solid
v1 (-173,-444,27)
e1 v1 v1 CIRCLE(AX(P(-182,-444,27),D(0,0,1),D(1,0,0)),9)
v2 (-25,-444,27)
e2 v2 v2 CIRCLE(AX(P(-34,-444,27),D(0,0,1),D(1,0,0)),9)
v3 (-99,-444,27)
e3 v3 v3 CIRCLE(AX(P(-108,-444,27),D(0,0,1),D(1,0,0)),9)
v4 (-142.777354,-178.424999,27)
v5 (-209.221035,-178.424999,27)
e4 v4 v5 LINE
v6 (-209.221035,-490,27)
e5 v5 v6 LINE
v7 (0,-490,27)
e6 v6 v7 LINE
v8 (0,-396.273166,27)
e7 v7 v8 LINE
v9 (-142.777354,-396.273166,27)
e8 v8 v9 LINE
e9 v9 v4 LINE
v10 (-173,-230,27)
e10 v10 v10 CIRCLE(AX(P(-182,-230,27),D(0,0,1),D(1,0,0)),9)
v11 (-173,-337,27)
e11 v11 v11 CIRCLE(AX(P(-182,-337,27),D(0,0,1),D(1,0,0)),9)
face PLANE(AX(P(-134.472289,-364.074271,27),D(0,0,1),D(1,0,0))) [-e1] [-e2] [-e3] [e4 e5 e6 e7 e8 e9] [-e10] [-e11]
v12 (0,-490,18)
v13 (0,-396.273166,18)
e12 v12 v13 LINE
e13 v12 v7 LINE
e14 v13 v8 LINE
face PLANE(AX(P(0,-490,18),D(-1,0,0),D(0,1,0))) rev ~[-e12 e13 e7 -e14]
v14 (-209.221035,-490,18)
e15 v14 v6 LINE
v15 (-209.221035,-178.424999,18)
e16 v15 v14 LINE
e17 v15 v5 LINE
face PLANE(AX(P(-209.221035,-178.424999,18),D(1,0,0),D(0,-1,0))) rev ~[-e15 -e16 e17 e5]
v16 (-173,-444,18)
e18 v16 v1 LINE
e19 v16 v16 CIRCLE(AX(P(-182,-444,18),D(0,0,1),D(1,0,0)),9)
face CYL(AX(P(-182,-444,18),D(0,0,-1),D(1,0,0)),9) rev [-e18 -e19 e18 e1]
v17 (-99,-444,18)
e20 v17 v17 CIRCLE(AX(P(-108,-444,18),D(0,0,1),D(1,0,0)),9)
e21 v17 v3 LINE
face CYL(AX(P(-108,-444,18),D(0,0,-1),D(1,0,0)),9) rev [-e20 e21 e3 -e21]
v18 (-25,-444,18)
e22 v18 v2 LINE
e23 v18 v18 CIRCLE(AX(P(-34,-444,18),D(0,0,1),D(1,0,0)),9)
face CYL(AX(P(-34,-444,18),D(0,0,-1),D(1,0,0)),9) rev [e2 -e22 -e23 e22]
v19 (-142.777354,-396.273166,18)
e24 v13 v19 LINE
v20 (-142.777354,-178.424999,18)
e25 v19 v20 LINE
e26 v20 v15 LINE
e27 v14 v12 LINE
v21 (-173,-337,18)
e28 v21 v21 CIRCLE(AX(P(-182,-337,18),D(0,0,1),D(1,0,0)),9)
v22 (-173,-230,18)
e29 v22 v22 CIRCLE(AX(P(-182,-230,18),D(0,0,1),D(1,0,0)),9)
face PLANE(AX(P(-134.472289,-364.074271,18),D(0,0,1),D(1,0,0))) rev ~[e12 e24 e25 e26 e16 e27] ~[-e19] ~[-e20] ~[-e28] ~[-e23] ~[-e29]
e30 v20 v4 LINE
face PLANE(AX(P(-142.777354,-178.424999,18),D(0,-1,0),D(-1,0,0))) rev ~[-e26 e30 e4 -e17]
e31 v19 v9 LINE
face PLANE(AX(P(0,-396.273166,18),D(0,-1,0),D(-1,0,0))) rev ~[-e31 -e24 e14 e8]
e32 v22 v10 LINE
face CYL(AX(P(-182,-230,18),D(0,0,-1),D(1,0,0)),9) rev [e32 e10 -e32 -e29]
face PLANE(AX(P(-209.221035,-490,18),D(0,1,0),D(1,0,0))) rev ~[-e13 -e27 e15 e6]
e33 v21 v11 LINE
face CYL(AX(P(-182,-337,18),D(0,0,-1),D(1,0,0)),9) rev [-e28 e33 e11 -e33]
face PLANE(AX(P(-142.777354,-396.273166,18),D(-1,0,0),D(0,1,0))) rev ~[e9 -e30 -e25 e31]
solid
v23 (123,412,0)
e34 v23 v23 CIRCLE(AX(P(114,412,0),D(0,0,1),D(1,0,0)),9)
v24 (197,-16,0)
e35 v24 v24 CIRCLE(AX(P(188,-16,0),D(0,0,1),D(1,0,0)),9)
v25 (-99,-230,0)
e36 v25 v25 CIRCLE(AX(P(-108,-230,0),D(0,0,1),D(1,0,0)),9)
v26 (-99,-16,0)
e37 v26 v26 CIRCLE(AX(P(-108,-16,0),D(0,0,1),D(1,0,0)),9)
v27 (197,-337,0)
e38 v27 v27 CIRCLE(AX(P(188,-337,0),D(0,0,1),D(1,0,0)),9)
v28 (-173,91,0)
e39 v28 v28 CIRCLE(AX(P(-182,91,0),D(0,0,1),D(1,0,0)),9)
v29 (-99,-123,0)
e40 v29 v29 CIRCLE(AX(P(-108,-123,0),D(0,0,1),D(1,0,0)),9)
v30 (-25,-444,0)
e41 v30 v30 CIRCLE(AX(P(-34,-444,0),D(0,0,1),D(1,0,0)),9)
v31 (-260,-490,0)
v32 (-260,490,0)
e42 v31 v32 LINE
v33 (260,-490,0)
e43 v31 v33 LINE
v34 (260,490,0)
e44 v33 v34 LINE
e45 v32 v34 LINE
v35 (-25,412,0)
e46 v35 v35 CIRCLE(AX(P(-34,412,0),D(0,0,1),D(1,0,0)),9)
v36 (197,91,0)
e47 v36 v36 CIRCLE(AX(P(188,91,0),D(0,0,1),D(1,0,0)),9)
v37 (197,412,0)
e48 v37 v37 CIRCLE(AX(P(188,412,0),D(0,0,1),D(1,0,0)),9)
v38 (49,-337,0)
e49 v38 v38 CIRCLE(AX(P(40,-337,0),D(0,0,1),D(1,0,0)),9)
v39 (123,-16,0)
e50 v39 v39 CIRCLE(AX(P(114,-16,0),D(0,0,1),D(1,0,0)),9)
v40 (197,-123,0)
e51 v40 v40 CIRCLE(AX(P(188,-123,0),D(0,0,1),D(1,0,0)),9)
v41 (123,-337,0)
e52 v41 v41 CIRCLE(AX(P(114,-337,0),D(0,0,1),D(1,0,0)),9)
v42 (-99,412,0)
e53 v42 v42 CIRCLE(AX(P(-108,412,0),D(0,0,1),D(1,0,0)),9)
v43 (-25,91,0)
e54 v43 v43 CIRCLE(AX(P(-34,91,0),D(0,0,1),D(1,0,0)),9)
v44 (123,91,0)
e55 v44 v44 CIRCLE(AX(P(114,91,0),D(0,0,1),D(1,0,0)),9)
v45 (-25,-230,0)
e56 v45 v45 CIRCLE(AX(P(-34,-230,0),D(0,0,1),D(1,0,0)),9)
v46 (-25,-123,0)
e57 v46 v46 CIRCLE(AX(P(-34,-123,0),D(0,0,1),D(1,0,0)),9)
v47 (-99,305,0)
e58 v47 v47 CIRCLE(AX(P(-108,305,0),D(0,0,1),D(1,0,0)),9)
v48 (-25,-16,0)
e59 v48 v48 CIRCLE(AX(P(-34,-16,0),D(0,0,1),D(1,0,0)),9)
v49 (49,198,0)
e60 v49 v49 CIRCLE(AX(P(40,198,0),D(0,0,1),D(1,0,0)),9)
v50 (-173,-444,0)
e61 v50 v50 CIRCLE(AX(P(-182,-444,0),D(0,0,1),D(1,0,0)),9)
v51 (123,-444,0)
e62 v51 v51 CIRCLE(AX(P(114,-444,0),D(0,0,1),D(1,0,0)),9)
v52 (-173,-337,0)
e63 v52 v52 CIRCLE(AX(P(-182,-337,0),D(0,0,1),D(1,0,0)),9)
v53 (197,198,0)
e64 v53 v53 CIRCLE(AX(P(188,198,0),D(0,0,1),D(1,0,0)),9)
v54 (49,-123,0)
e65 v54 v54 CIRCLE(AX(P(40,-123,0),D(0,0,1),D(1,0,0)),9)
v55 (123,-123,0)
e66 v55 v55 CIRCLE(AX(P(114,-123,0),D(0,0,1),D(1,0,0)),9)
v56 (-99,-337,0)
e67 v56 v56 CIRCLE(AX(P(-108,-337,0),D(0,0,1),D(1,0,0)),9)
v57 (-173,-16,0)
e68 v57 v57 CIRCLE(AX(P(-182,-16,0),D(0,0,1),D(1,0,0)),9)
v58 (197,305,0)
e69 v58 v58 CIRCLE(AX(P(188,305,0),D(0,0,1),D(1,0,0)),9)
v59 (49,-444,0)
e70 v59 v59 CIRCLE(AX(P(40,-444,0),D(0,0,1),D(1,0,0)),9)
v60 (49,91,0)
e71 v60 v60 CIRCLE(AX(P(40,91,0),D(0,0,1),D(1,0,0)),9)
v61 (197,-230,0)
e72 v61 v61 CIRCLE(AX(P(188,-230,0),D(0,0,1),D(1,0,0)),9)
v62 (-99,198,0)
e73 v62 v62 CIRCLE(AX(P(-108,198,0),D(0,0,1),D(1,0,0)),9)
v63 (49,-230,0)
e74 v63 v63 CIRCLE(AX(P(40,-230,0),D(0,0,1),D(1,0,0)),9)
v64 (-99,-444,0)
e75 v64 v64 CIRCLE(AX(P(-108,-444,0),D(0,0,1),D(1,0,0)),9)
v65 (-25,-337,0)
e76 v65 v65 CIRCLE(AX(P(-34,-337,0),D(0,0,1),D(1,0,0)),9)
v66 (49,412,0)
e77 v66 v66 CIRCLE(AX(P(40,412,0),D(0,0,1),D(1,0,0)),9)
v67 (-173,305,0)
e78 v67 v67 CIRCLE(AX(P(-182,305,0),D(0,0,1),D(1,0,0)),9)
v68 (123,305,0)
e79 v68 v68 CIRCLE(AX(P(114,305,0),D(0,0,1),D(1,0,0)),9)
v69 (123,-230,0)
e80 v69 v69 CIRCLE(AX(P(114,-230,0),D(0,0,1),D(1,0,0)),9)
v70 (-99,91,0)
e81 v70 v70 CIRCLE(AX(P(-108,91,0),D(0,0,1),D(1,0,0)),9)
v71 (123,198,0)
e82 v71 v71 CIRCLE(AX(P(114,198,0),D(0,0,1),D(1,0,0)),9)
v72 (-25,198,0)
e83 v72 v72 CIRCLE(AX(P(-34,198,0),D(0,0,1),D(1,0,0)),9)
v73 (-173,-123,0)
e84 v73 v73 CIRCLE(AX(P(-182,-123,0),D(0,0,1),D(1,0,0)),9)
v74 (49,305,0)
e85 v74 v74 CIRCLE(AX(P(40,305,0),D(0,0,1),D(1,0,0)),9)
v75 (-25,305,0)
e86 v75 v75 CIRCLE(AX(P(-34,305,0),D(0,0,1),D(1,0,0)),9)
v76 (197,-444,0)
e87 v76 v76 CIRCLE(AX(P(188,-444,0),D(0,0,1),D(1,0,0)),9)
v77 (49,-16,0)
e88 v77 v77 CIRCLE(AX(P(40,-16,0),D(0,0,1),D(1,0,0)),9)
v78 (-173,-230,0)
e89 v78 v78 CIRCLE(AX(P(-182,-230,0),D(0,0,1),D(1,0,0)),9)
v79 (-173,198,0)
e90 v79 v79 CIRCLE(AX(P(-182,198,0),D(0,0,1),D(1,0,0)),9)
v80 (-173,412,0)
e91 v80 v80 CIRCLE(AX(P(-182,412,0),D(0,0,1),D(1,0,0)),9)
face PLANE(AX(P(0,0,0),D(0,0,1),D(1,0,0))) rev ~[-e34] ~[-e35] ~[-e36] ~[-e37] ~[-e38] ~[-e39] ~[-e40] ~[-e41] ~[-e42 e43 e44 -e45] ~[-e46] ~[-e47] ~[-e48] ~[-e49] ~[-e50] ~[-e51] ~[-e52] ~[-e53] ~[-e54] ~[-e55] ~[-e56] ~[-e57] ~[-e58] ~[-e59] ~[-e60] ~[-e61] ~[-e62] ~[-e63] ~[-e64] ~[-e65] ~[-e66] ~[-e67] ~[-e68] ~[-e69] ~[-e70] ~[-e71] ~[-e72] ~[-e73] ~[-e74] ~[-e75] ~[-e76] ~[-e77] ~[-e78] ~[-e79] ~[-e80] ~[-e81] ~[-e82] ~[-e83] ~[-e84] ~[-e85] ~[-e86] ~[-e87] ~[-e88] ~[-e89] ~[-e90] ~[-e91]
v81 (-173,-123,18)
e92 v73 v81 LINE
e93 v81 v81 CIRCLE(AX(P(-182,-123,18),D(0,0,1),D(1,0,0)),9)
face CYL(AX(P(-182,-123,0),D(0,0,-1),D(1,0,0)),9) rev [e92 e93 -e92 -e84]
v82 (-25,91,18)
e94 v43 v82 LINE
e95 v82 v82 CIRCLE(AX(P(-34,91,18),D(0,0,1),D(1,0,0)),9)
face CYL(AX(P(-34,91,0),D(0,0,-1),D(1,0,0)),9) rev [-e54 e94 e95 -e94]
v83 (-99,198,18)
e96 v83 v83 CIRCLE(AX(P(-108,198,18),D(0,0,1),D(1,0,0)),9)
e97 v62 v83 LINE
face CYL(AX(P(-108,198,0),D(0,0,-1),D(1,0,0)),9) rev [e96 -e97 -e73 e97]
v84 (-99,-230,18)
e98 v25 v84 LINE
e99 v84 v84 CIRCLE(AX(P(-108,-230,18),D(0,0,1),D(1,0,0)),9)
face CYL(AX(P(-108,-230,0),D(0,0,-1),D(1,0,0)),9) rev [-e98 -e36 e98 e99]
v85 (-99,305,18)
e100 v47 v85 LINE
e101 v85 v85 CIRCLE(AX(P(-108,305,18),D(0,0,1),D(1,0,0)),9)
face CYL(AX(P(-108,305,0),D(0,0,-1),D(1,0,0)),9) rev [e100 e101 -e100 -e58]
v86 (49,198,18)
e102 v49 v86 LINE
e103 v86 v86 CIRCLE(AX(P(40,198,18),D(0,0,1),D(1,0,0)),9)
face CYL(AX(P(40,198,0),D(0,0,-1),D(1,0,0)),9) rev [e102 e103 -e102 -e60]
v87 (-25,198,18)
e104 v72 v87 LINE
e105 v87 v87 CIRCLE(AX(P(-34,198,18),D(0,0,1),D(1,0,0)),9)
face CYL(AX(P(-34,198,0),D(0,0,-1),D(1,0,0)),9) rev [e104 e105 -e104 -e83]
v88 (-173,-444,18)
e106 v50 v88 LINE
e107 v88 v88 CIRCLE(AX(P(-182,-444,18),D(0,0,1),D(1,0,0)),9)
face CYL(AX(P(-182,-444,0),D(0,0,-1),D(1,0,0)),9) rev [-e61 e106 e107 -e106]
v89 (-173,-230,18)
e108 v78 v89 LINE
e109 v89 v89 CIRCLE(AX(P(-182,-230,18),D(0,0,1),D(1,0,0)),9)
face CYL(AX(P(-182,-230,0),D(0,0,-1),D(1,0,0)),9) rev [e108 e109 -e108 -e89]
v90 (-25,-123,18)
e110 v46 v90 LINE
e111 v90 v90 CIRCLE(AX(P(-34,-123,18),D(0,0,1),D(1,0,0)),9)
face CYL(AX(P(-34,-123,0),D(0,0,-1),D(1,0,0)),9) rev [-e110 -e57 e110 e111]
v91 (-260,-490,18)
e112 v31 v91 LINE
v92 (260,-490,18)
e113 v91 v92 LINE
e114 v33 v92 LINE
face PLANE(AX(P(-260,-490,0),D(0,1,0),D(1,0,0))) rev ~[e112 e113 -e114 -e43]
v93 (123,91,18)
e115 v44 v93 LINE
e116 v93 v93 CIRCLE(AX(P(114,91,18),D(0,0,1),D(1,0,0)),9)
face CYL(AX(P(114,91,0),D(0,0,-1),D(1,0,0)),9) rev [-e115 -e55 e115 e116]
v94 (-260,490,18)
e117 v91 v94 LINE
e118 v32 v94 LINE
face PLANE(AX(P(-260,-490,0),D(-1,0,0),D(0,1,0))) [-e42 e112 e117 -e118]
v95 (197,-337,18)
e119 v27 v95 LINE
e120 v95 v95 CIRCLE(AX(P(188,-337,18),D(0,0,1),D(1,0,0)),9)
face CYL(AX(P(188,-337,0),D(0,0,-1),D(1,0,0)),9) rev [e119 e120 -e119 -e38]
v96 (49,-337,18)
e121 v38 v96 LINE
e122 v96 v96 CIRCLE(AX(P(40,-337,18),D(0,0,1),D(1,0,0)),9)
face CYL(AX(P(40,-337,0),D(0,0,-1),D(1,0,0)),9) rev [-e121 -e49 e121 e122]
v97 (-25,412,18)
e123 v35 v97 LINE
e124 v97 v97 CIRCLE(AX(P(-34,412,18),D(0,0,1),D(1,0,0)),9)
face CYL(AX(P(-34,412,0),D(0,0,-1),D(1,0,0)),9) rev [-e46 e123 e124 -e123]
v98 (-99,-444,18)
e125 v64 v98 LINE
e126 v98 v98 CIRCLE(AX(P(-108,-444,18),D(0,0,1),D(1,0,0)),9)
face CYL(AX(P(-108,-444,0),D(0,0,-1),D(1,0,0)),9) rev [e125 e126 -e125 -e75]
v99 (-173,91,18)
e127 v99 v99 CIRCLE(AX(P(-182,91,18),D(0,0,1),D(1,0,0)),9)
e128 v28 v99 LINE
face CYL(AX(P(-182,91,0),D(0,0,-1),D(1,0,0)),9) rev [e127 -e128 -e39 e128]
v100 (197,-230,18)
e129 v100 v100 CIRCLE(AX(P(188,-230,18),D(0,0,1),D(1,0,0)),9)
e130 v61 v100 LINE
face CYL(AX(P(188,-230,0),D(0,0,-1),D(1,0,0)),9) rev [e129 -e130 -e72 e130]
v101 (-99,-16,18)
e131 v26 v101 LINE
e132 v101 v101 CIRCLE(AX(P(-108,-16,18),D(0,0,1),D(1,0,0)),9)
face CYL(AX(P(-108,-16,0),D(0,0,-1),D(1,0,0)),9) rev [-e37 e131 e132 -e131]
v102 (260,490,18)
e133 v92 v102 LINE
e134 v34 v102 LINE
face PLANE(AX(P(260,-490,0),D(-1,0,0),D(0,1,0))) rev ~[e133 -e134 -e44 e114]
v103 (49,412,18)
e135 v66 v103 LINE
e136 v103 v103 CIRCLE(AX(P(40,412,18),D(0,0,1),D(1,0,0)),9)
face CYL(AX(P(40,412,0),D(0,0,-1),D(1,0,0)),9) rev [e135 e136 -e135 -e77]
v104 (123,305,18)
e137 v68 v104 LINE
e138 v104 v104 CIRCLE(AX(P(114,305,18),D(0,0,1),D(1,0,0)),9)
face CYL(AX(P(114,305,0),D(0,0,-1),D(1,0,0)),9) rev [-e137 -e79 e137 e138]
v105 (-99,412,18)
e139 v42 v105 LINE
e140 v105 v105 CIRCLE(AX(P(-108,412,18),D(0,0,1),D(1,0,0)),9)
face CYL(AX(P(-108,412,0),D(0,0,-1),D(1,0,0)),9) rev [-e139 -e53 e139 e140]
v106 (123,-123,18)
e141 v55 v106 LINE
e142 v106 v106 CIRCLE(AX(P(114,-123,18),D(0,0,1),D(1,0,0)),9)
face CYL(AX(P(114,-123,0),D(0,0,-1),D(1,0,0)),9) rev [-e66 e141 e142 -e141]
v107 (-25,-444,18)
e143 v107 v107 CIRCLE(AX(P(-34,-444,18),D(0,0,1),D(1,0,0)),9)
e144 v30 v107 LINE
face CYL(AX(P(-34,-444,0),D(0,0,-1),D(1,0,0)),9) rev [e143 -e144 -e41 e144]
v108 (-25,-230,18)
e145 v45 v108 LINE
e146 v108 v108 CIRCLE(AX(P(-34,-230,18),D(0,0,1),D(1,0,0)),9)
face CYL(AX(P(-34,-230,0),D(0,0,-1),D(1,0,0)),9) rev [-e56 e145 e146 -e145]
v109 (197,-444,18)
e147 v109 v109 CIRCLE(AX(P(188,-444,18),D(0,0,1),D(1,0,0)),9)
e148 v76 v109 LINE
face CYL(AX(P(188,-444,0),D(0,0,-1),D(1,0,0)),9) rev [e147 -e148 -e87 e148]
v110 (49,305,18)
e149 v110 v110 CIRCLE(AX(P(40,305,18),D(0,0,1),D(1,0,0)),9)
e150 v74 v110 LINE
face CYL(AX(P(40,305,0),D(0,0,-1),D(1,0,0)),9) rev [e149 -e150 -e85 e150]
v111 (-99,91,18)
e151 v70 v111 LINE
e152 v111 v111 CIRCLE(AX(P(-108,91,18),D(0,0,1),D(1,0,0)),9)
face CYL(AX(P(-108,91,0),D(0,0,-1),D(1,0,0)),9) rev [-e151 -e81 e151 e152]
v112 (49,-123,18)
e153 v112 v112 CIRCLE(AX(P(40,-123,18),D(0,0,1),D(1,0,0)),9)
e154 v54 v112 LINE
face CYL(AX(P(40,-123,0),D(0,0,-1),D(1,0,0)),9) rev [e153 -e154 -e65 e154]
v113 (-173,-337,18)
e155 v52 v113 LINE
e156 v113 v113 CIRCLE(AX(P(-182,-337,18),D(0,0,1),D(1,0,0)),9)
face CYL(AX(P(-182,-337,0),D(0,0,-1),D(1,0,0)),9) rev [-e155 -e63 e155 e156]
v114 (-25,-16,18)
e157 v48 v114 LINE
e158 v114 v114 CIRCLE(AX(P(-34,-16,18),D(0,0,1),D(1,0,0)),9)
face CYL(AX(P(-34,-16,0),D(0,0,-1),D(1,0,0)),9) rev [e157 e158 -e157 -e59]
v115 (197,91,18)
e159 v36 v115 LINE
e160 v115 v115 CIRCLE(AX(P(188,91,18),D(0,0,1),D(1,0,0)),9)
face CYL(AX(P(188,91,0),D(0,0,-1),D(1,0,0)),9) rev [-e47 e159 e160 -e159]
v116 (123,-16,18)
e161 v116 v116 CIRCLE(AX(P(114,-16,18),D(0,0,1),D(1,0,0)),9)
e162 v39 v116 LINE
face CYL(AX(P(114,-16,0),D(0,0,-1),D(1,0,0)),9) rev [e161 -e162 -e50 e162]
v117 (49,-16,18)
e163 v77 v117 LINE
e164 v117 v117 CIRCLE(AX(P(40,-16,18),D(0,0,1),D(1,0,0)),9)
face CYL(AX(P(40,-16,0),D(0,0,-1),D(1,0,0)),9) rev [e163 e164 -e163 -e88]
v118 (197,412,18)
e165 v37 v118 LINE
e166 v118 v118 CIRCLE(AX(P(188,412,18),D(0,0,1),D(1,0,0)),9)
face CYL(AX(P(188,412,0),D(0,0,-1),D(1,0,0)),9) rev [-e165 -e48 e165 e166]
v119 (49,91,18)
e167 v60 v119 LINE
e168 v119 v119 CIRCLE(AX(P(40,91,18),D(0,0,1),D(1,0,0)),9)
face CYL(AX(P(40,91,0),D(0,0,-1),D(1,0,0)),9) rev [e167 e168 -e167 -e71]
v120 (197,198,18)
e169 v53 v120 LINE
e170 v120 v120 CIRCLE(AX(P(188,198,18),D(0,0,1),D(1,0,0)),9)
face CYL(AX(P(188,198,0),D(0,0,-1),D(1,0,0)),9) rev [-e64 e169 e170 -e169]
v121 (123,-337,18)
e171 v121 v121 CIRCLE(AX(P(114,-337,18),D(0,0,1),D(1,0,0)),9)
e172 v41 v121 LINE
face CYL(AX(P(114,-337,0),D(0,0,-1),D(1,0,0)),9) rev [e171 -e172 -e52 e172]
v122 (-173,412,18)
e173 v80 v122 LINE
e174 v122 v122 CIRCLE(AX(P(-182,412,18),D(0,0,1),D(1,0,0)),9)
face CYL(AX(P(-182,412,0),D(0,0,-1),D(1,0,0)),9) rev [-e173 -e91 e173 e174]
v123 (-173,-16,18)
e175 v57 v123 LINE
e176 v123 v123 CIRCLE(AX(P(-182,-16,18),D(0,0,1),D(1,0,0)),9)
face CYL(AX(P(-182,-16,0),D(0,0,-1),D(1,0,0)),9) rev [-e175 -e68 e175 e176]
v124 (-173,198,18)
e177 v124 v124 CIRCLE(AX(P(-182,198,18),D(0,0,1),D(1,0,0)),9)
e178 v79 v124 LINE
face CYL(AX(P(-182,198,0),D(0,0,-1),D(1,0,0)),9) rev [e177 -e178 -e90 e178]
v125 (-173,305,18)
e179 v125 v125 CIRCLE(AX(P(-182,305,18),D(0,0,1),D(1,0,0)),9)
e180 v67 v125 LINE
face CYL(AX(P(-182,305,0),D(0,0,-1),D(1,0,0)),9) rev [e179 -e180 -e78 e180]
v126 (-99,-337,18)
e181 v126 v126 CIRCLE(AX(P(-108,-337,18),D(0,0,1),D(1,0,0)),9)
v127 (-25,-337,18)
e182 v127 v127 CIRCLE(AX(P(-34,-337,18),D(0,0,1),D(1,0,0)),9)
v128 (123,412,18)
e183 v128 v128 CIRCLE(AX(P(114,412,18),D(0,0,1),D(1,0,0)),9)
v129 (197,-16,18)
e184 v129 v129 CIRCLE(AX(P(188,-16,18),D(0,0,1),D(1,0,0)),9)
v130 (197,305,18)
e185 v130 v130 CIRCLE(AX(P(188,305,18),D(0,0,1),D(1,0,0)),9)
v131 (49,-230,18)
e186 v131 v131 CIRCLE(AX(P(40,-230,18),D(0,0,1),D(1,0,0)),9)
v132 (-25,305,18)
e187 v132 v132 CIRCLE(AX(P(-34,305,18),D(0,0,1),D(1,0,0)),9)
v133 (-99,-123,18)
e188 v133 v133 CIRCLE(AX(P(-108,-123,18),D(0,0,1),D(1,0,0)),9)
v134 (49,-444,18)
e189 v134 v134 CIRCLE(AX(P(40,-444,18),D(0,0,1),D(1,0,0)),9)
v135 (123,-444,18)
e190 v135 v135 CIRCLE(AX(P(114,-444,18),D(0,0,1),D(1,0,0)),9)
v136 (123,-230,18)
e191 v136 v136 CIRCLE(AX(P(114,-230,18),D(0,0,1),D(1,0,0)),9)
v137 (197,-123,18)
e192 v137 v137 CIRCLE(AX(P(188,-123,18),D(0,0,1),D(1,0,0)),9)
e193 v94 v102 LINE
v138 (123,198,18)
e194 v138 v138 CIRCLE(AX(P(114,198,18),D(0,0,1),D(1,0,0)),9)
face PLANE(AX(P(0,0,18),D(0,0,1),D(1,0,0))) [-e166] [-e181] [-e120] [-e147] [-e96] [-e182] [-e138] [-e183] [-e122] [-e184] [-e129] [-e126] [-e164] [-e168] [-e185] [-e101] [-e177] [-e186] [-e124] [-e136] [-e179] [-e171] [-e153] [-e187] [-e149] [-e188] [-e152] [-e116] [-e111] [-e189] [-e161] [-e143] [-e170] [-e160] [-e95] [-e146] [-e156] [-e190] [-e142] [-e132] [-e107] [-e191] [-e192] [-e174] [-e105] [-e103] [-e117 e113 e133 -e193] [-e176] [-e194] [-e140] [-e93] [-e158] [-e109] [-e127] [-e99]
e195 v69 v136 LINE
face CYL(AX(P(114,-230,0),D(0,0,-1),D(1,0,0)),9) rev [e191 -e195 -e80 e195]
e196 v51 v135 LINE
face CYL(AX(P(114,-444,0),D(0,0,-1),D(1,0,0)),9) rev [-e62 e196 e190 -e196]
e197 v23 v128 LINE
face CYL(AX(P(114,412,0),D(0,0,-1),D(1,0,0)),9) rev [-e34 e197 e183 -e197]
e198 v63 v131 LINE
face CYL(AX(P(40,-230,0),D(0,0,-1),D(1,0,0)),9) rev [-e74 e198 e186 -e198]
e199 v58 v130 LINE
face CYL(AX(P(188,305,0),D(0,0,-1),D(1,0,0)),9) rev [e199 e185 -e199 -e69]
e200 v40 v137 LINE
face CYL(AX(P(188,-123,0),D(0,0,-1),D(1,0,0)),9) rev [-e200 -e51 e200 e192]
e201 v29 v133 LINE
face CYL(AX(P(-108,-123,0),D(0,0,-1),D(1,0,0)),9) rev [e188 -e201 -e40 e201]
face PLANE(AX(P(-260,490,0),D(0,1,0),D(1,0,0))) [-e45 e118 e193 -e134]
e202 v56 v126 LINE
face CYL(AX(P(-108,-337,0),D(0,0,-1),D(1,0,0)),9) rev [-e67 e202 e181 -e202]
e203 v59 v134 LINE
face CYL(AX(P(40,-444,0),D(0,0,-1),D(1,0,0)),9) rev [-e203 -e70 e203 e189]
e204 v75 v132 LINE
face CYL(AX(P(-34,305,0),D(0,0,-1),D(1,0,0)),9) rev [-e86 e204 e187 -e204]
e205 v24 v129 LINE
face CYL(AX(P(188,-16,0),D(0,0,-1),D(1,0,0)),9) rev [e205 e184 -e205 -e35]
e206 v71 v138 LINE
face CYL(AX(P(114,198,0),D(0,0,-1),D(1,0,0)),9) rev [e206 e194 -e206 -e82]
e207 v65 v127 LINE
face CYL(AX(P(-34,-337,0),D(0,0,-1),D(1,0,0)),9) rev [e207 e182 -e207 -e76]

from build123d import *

# Parameters (mm, degrees)
F0_W     = 520
F0_H     = 980
F0_R     = 9
F1_DEPTH = 18
F2_R     = 9
F3_DEPTH = 9


with BuildPart() as f1:
    # F0 (on Top) → F1 (new body)
    with BuildSketch(Plane.XY):
        Rectangle(F0_W, F0_H)
        with Locations((-182, -444)):
            Circle(F0_R, mode=Mode.SUBTRACT)
        with Locations((-182, -337)):
            Circle(F0_R, mode=Mode.SUBTRACT)
        with Locations((-108, -444)):
            Circle(F0_R, mode=Mode.SUBTRACT)
        with Locations((-34, -444)):
            Circle(F0_R, mode=Mode.SUBTRACT)
        with Locations((-108, -337)):
            Circle(F0_R, mode=Mode.SUBTRACT)
        with Locations((-34, -337)):
            Circle(F0_R, mode=Mode.SUBTRACT)
        with Locations((-182, -230)):
            Circle(F0_R, mode=Mode.SUBTRACT)
        with Locations((-182, -123)):
            Circle(F0_R, mode=Mode.SUBTRACT)
        with Locations((-182, -16)):
            Circle(F0_R, mode=Mode.SUBTRACT)
        with Locations((-108, -230)):
            Circle(F0_R, mode=Mode.SUBTRACT)
        with Locations((-108, -123)):
            Circle(F0_R, mode=Mode.SUBTRACT)
        with Locations((-34, -230)):
            Circle(F0_R, mode=Mode.SUBTRACT)
        with Locations((-34, -123)):
            Circle(F0_R, mode=Mode.SUBTRACT)
        with Locations((-108, -16)):
            Circle(F0_R, mode=Mode.SUBTRACT)
        with Locations((-34, -16)):
            Circle(F0_R, mode=Mode.SUBTRACT)
        with Locations((40, -444)):
            Circle(F0_R, mode=Mode.SUBTRACT)
        with Locations((114, -444)):
            Circle(F0_R, mode=Mode.SUBTRACT)
        with Locations((40, -337)):
            Circle(F0_R, mode=Mode.SUBTRACT)
        with Locations((114, -337)):
            Circle(F0_R, mode=Mode.SUBTRACT)
        with Locations((188, -444)):
            Circle(F0_R, mode=Mode.SUBTRACT)
        with Locations((188, -337)):
            Circle(F0_R, mode=Mode.SUBTRACT)
        with Locations((40, -230)):
            Circle(F0_R, mode=Mode.SUBTRACT)
        with Locations((40, -123)):
            Circle(F0_R, mode=Mode.SUBTRACT)
        with Locations((114, -230)):
            Circle(F0_R, mode=Mode.SUBTRACT)
        with Locations((114, -123)):
            Circle(F0_R, mode=Mode.SUBTRACT)
        with Locations((40, -16)):
            Circle(F0_R, mode=Mode.SUBTRACT)
        with Locations((114, -16)):
            Circle(F0_R, mode=Mode.SUBTRACT)
        with Locations((188, -230)):
            Circle(F0_R, mode=Mode.SUBTRACT)
        with Locations((188, -123)):
            Circle(F0_R, mode=Mode.SUBTRACT)
        with Locations((188, -16)):
            Circle(F0_R, mode=Mode.SUBTRACT)
        with Locations((-182, 91)):
            Circle(F0_R, mode=Mode.SUBTRACT)
        with Locations((-182, 198)):
            Circle(F0_R, mode=Mode.SUBTRACT)
        with Locations((-108, 91)):
            Circle(F0_R, mode=Mode.SUBTRACT)
        with Locations((-34, 91)):
            Circle(F0_R, mode=Mode.SUBTRACT)
        with Locations((-108, 198)):
            Circle(F0_R, mode=Mode.SUBTRACT)
        with Locations((-34, 198)):
            Circle(F0_R, mode=Mode.SUBTRACT)
        with Locations((-182, 305)):
            Circle(F0_R, mode=Mode.SUBTRACT)
        with Locations((-182, 412)):
            Circle(F0_R, mode=Mode.SUBTRACT)
        with Locations((-108, 305)):
            Circle(F0_R, mode=Mode.SUBTRACT)
        with Locations((-34, 305)):
            Circle(F0_R, mode=Mode.SUBTRACT)
        with Locations((-108, 412)):
            Circle(F0_R, mode=Mode.SUBTRACT)
        with Locations((-34, 412)):
            Circle(F0_R, mode=Mode.SUBTRACT)
        with Locations((40, 91)):
            Circle(F0_R, mode=Mode.SUBTRACT)
        with Locations((114, 91)):
            Circle(F0_R, mode=Mode.SUBTRACT)
        with Locations((40, 198)):
            Circle(F0_R, mode=Mode.SUBTRACT)
        with Locations((114, 198)):
            Circle(F0_R, mode=Mode.SUBTRACT)
        with Locations((188, 91)):
            Circle(F0_R, mode=Mode.SUBTRACT)
        with Locations((188, 198)):
            Circle(F0_R, mode=Mode.SUBTRACT)
        with Locations((40, 305)):
            Circle(F0_R, mode=Mode.SUBTRACT)
        with Locations((114, 305)):
            Circle(F0_R, mode=Mode.SUBTRACT)
        with Locations((40, 412)):
            Circle(F0_R, mode=Mode.SUBTRACT)
        with Locations((114, 412)):
            Circle(F0_R, mode=Mode.SUBTRACT)
        with Locations((188, 305)):
            Circle(F0_R, mode=Mode.SUBTRACT)
        with Locations((188, 412)):
            Circle(F0_R, mode=Mode.SUBTRACT)
    extrude(amount=F1_DEPTH)


with BuildPart() as f3:
    # F2 (on face) → F3 (new body)
    with BuildSketch(Plane.XY.offset(18)):
        Polygon((-142.777354, -490), (0, -490), (0, -396.273166), (-142.777354, -396.273166), (-142.777354, -178.424999), (-209.221035, -178.424999), (-209.221035, -490), align=None)
        with Locations((-182, -444)):
            Circle(F2_R, mode=Mode.SUBTRACT)
        with Locations((-182, -337)):
            Circle(F2_R, mode=Mode.SUBTRACT)
        with Locations((-108, -444)):
            Circle(F2_R, mode=Mode.SUBTRACT)
        with Locations((-34, -444)):
            Circle(F2_R, mode=Mode.SUBTRACT)
        with Locations((-182, -230)):
            Circle(F2_R, mode=Mode.SUBTRACT)
    extrude(amount=F3_DEPTH)


solid = Compound([f1.part, f3.part])
